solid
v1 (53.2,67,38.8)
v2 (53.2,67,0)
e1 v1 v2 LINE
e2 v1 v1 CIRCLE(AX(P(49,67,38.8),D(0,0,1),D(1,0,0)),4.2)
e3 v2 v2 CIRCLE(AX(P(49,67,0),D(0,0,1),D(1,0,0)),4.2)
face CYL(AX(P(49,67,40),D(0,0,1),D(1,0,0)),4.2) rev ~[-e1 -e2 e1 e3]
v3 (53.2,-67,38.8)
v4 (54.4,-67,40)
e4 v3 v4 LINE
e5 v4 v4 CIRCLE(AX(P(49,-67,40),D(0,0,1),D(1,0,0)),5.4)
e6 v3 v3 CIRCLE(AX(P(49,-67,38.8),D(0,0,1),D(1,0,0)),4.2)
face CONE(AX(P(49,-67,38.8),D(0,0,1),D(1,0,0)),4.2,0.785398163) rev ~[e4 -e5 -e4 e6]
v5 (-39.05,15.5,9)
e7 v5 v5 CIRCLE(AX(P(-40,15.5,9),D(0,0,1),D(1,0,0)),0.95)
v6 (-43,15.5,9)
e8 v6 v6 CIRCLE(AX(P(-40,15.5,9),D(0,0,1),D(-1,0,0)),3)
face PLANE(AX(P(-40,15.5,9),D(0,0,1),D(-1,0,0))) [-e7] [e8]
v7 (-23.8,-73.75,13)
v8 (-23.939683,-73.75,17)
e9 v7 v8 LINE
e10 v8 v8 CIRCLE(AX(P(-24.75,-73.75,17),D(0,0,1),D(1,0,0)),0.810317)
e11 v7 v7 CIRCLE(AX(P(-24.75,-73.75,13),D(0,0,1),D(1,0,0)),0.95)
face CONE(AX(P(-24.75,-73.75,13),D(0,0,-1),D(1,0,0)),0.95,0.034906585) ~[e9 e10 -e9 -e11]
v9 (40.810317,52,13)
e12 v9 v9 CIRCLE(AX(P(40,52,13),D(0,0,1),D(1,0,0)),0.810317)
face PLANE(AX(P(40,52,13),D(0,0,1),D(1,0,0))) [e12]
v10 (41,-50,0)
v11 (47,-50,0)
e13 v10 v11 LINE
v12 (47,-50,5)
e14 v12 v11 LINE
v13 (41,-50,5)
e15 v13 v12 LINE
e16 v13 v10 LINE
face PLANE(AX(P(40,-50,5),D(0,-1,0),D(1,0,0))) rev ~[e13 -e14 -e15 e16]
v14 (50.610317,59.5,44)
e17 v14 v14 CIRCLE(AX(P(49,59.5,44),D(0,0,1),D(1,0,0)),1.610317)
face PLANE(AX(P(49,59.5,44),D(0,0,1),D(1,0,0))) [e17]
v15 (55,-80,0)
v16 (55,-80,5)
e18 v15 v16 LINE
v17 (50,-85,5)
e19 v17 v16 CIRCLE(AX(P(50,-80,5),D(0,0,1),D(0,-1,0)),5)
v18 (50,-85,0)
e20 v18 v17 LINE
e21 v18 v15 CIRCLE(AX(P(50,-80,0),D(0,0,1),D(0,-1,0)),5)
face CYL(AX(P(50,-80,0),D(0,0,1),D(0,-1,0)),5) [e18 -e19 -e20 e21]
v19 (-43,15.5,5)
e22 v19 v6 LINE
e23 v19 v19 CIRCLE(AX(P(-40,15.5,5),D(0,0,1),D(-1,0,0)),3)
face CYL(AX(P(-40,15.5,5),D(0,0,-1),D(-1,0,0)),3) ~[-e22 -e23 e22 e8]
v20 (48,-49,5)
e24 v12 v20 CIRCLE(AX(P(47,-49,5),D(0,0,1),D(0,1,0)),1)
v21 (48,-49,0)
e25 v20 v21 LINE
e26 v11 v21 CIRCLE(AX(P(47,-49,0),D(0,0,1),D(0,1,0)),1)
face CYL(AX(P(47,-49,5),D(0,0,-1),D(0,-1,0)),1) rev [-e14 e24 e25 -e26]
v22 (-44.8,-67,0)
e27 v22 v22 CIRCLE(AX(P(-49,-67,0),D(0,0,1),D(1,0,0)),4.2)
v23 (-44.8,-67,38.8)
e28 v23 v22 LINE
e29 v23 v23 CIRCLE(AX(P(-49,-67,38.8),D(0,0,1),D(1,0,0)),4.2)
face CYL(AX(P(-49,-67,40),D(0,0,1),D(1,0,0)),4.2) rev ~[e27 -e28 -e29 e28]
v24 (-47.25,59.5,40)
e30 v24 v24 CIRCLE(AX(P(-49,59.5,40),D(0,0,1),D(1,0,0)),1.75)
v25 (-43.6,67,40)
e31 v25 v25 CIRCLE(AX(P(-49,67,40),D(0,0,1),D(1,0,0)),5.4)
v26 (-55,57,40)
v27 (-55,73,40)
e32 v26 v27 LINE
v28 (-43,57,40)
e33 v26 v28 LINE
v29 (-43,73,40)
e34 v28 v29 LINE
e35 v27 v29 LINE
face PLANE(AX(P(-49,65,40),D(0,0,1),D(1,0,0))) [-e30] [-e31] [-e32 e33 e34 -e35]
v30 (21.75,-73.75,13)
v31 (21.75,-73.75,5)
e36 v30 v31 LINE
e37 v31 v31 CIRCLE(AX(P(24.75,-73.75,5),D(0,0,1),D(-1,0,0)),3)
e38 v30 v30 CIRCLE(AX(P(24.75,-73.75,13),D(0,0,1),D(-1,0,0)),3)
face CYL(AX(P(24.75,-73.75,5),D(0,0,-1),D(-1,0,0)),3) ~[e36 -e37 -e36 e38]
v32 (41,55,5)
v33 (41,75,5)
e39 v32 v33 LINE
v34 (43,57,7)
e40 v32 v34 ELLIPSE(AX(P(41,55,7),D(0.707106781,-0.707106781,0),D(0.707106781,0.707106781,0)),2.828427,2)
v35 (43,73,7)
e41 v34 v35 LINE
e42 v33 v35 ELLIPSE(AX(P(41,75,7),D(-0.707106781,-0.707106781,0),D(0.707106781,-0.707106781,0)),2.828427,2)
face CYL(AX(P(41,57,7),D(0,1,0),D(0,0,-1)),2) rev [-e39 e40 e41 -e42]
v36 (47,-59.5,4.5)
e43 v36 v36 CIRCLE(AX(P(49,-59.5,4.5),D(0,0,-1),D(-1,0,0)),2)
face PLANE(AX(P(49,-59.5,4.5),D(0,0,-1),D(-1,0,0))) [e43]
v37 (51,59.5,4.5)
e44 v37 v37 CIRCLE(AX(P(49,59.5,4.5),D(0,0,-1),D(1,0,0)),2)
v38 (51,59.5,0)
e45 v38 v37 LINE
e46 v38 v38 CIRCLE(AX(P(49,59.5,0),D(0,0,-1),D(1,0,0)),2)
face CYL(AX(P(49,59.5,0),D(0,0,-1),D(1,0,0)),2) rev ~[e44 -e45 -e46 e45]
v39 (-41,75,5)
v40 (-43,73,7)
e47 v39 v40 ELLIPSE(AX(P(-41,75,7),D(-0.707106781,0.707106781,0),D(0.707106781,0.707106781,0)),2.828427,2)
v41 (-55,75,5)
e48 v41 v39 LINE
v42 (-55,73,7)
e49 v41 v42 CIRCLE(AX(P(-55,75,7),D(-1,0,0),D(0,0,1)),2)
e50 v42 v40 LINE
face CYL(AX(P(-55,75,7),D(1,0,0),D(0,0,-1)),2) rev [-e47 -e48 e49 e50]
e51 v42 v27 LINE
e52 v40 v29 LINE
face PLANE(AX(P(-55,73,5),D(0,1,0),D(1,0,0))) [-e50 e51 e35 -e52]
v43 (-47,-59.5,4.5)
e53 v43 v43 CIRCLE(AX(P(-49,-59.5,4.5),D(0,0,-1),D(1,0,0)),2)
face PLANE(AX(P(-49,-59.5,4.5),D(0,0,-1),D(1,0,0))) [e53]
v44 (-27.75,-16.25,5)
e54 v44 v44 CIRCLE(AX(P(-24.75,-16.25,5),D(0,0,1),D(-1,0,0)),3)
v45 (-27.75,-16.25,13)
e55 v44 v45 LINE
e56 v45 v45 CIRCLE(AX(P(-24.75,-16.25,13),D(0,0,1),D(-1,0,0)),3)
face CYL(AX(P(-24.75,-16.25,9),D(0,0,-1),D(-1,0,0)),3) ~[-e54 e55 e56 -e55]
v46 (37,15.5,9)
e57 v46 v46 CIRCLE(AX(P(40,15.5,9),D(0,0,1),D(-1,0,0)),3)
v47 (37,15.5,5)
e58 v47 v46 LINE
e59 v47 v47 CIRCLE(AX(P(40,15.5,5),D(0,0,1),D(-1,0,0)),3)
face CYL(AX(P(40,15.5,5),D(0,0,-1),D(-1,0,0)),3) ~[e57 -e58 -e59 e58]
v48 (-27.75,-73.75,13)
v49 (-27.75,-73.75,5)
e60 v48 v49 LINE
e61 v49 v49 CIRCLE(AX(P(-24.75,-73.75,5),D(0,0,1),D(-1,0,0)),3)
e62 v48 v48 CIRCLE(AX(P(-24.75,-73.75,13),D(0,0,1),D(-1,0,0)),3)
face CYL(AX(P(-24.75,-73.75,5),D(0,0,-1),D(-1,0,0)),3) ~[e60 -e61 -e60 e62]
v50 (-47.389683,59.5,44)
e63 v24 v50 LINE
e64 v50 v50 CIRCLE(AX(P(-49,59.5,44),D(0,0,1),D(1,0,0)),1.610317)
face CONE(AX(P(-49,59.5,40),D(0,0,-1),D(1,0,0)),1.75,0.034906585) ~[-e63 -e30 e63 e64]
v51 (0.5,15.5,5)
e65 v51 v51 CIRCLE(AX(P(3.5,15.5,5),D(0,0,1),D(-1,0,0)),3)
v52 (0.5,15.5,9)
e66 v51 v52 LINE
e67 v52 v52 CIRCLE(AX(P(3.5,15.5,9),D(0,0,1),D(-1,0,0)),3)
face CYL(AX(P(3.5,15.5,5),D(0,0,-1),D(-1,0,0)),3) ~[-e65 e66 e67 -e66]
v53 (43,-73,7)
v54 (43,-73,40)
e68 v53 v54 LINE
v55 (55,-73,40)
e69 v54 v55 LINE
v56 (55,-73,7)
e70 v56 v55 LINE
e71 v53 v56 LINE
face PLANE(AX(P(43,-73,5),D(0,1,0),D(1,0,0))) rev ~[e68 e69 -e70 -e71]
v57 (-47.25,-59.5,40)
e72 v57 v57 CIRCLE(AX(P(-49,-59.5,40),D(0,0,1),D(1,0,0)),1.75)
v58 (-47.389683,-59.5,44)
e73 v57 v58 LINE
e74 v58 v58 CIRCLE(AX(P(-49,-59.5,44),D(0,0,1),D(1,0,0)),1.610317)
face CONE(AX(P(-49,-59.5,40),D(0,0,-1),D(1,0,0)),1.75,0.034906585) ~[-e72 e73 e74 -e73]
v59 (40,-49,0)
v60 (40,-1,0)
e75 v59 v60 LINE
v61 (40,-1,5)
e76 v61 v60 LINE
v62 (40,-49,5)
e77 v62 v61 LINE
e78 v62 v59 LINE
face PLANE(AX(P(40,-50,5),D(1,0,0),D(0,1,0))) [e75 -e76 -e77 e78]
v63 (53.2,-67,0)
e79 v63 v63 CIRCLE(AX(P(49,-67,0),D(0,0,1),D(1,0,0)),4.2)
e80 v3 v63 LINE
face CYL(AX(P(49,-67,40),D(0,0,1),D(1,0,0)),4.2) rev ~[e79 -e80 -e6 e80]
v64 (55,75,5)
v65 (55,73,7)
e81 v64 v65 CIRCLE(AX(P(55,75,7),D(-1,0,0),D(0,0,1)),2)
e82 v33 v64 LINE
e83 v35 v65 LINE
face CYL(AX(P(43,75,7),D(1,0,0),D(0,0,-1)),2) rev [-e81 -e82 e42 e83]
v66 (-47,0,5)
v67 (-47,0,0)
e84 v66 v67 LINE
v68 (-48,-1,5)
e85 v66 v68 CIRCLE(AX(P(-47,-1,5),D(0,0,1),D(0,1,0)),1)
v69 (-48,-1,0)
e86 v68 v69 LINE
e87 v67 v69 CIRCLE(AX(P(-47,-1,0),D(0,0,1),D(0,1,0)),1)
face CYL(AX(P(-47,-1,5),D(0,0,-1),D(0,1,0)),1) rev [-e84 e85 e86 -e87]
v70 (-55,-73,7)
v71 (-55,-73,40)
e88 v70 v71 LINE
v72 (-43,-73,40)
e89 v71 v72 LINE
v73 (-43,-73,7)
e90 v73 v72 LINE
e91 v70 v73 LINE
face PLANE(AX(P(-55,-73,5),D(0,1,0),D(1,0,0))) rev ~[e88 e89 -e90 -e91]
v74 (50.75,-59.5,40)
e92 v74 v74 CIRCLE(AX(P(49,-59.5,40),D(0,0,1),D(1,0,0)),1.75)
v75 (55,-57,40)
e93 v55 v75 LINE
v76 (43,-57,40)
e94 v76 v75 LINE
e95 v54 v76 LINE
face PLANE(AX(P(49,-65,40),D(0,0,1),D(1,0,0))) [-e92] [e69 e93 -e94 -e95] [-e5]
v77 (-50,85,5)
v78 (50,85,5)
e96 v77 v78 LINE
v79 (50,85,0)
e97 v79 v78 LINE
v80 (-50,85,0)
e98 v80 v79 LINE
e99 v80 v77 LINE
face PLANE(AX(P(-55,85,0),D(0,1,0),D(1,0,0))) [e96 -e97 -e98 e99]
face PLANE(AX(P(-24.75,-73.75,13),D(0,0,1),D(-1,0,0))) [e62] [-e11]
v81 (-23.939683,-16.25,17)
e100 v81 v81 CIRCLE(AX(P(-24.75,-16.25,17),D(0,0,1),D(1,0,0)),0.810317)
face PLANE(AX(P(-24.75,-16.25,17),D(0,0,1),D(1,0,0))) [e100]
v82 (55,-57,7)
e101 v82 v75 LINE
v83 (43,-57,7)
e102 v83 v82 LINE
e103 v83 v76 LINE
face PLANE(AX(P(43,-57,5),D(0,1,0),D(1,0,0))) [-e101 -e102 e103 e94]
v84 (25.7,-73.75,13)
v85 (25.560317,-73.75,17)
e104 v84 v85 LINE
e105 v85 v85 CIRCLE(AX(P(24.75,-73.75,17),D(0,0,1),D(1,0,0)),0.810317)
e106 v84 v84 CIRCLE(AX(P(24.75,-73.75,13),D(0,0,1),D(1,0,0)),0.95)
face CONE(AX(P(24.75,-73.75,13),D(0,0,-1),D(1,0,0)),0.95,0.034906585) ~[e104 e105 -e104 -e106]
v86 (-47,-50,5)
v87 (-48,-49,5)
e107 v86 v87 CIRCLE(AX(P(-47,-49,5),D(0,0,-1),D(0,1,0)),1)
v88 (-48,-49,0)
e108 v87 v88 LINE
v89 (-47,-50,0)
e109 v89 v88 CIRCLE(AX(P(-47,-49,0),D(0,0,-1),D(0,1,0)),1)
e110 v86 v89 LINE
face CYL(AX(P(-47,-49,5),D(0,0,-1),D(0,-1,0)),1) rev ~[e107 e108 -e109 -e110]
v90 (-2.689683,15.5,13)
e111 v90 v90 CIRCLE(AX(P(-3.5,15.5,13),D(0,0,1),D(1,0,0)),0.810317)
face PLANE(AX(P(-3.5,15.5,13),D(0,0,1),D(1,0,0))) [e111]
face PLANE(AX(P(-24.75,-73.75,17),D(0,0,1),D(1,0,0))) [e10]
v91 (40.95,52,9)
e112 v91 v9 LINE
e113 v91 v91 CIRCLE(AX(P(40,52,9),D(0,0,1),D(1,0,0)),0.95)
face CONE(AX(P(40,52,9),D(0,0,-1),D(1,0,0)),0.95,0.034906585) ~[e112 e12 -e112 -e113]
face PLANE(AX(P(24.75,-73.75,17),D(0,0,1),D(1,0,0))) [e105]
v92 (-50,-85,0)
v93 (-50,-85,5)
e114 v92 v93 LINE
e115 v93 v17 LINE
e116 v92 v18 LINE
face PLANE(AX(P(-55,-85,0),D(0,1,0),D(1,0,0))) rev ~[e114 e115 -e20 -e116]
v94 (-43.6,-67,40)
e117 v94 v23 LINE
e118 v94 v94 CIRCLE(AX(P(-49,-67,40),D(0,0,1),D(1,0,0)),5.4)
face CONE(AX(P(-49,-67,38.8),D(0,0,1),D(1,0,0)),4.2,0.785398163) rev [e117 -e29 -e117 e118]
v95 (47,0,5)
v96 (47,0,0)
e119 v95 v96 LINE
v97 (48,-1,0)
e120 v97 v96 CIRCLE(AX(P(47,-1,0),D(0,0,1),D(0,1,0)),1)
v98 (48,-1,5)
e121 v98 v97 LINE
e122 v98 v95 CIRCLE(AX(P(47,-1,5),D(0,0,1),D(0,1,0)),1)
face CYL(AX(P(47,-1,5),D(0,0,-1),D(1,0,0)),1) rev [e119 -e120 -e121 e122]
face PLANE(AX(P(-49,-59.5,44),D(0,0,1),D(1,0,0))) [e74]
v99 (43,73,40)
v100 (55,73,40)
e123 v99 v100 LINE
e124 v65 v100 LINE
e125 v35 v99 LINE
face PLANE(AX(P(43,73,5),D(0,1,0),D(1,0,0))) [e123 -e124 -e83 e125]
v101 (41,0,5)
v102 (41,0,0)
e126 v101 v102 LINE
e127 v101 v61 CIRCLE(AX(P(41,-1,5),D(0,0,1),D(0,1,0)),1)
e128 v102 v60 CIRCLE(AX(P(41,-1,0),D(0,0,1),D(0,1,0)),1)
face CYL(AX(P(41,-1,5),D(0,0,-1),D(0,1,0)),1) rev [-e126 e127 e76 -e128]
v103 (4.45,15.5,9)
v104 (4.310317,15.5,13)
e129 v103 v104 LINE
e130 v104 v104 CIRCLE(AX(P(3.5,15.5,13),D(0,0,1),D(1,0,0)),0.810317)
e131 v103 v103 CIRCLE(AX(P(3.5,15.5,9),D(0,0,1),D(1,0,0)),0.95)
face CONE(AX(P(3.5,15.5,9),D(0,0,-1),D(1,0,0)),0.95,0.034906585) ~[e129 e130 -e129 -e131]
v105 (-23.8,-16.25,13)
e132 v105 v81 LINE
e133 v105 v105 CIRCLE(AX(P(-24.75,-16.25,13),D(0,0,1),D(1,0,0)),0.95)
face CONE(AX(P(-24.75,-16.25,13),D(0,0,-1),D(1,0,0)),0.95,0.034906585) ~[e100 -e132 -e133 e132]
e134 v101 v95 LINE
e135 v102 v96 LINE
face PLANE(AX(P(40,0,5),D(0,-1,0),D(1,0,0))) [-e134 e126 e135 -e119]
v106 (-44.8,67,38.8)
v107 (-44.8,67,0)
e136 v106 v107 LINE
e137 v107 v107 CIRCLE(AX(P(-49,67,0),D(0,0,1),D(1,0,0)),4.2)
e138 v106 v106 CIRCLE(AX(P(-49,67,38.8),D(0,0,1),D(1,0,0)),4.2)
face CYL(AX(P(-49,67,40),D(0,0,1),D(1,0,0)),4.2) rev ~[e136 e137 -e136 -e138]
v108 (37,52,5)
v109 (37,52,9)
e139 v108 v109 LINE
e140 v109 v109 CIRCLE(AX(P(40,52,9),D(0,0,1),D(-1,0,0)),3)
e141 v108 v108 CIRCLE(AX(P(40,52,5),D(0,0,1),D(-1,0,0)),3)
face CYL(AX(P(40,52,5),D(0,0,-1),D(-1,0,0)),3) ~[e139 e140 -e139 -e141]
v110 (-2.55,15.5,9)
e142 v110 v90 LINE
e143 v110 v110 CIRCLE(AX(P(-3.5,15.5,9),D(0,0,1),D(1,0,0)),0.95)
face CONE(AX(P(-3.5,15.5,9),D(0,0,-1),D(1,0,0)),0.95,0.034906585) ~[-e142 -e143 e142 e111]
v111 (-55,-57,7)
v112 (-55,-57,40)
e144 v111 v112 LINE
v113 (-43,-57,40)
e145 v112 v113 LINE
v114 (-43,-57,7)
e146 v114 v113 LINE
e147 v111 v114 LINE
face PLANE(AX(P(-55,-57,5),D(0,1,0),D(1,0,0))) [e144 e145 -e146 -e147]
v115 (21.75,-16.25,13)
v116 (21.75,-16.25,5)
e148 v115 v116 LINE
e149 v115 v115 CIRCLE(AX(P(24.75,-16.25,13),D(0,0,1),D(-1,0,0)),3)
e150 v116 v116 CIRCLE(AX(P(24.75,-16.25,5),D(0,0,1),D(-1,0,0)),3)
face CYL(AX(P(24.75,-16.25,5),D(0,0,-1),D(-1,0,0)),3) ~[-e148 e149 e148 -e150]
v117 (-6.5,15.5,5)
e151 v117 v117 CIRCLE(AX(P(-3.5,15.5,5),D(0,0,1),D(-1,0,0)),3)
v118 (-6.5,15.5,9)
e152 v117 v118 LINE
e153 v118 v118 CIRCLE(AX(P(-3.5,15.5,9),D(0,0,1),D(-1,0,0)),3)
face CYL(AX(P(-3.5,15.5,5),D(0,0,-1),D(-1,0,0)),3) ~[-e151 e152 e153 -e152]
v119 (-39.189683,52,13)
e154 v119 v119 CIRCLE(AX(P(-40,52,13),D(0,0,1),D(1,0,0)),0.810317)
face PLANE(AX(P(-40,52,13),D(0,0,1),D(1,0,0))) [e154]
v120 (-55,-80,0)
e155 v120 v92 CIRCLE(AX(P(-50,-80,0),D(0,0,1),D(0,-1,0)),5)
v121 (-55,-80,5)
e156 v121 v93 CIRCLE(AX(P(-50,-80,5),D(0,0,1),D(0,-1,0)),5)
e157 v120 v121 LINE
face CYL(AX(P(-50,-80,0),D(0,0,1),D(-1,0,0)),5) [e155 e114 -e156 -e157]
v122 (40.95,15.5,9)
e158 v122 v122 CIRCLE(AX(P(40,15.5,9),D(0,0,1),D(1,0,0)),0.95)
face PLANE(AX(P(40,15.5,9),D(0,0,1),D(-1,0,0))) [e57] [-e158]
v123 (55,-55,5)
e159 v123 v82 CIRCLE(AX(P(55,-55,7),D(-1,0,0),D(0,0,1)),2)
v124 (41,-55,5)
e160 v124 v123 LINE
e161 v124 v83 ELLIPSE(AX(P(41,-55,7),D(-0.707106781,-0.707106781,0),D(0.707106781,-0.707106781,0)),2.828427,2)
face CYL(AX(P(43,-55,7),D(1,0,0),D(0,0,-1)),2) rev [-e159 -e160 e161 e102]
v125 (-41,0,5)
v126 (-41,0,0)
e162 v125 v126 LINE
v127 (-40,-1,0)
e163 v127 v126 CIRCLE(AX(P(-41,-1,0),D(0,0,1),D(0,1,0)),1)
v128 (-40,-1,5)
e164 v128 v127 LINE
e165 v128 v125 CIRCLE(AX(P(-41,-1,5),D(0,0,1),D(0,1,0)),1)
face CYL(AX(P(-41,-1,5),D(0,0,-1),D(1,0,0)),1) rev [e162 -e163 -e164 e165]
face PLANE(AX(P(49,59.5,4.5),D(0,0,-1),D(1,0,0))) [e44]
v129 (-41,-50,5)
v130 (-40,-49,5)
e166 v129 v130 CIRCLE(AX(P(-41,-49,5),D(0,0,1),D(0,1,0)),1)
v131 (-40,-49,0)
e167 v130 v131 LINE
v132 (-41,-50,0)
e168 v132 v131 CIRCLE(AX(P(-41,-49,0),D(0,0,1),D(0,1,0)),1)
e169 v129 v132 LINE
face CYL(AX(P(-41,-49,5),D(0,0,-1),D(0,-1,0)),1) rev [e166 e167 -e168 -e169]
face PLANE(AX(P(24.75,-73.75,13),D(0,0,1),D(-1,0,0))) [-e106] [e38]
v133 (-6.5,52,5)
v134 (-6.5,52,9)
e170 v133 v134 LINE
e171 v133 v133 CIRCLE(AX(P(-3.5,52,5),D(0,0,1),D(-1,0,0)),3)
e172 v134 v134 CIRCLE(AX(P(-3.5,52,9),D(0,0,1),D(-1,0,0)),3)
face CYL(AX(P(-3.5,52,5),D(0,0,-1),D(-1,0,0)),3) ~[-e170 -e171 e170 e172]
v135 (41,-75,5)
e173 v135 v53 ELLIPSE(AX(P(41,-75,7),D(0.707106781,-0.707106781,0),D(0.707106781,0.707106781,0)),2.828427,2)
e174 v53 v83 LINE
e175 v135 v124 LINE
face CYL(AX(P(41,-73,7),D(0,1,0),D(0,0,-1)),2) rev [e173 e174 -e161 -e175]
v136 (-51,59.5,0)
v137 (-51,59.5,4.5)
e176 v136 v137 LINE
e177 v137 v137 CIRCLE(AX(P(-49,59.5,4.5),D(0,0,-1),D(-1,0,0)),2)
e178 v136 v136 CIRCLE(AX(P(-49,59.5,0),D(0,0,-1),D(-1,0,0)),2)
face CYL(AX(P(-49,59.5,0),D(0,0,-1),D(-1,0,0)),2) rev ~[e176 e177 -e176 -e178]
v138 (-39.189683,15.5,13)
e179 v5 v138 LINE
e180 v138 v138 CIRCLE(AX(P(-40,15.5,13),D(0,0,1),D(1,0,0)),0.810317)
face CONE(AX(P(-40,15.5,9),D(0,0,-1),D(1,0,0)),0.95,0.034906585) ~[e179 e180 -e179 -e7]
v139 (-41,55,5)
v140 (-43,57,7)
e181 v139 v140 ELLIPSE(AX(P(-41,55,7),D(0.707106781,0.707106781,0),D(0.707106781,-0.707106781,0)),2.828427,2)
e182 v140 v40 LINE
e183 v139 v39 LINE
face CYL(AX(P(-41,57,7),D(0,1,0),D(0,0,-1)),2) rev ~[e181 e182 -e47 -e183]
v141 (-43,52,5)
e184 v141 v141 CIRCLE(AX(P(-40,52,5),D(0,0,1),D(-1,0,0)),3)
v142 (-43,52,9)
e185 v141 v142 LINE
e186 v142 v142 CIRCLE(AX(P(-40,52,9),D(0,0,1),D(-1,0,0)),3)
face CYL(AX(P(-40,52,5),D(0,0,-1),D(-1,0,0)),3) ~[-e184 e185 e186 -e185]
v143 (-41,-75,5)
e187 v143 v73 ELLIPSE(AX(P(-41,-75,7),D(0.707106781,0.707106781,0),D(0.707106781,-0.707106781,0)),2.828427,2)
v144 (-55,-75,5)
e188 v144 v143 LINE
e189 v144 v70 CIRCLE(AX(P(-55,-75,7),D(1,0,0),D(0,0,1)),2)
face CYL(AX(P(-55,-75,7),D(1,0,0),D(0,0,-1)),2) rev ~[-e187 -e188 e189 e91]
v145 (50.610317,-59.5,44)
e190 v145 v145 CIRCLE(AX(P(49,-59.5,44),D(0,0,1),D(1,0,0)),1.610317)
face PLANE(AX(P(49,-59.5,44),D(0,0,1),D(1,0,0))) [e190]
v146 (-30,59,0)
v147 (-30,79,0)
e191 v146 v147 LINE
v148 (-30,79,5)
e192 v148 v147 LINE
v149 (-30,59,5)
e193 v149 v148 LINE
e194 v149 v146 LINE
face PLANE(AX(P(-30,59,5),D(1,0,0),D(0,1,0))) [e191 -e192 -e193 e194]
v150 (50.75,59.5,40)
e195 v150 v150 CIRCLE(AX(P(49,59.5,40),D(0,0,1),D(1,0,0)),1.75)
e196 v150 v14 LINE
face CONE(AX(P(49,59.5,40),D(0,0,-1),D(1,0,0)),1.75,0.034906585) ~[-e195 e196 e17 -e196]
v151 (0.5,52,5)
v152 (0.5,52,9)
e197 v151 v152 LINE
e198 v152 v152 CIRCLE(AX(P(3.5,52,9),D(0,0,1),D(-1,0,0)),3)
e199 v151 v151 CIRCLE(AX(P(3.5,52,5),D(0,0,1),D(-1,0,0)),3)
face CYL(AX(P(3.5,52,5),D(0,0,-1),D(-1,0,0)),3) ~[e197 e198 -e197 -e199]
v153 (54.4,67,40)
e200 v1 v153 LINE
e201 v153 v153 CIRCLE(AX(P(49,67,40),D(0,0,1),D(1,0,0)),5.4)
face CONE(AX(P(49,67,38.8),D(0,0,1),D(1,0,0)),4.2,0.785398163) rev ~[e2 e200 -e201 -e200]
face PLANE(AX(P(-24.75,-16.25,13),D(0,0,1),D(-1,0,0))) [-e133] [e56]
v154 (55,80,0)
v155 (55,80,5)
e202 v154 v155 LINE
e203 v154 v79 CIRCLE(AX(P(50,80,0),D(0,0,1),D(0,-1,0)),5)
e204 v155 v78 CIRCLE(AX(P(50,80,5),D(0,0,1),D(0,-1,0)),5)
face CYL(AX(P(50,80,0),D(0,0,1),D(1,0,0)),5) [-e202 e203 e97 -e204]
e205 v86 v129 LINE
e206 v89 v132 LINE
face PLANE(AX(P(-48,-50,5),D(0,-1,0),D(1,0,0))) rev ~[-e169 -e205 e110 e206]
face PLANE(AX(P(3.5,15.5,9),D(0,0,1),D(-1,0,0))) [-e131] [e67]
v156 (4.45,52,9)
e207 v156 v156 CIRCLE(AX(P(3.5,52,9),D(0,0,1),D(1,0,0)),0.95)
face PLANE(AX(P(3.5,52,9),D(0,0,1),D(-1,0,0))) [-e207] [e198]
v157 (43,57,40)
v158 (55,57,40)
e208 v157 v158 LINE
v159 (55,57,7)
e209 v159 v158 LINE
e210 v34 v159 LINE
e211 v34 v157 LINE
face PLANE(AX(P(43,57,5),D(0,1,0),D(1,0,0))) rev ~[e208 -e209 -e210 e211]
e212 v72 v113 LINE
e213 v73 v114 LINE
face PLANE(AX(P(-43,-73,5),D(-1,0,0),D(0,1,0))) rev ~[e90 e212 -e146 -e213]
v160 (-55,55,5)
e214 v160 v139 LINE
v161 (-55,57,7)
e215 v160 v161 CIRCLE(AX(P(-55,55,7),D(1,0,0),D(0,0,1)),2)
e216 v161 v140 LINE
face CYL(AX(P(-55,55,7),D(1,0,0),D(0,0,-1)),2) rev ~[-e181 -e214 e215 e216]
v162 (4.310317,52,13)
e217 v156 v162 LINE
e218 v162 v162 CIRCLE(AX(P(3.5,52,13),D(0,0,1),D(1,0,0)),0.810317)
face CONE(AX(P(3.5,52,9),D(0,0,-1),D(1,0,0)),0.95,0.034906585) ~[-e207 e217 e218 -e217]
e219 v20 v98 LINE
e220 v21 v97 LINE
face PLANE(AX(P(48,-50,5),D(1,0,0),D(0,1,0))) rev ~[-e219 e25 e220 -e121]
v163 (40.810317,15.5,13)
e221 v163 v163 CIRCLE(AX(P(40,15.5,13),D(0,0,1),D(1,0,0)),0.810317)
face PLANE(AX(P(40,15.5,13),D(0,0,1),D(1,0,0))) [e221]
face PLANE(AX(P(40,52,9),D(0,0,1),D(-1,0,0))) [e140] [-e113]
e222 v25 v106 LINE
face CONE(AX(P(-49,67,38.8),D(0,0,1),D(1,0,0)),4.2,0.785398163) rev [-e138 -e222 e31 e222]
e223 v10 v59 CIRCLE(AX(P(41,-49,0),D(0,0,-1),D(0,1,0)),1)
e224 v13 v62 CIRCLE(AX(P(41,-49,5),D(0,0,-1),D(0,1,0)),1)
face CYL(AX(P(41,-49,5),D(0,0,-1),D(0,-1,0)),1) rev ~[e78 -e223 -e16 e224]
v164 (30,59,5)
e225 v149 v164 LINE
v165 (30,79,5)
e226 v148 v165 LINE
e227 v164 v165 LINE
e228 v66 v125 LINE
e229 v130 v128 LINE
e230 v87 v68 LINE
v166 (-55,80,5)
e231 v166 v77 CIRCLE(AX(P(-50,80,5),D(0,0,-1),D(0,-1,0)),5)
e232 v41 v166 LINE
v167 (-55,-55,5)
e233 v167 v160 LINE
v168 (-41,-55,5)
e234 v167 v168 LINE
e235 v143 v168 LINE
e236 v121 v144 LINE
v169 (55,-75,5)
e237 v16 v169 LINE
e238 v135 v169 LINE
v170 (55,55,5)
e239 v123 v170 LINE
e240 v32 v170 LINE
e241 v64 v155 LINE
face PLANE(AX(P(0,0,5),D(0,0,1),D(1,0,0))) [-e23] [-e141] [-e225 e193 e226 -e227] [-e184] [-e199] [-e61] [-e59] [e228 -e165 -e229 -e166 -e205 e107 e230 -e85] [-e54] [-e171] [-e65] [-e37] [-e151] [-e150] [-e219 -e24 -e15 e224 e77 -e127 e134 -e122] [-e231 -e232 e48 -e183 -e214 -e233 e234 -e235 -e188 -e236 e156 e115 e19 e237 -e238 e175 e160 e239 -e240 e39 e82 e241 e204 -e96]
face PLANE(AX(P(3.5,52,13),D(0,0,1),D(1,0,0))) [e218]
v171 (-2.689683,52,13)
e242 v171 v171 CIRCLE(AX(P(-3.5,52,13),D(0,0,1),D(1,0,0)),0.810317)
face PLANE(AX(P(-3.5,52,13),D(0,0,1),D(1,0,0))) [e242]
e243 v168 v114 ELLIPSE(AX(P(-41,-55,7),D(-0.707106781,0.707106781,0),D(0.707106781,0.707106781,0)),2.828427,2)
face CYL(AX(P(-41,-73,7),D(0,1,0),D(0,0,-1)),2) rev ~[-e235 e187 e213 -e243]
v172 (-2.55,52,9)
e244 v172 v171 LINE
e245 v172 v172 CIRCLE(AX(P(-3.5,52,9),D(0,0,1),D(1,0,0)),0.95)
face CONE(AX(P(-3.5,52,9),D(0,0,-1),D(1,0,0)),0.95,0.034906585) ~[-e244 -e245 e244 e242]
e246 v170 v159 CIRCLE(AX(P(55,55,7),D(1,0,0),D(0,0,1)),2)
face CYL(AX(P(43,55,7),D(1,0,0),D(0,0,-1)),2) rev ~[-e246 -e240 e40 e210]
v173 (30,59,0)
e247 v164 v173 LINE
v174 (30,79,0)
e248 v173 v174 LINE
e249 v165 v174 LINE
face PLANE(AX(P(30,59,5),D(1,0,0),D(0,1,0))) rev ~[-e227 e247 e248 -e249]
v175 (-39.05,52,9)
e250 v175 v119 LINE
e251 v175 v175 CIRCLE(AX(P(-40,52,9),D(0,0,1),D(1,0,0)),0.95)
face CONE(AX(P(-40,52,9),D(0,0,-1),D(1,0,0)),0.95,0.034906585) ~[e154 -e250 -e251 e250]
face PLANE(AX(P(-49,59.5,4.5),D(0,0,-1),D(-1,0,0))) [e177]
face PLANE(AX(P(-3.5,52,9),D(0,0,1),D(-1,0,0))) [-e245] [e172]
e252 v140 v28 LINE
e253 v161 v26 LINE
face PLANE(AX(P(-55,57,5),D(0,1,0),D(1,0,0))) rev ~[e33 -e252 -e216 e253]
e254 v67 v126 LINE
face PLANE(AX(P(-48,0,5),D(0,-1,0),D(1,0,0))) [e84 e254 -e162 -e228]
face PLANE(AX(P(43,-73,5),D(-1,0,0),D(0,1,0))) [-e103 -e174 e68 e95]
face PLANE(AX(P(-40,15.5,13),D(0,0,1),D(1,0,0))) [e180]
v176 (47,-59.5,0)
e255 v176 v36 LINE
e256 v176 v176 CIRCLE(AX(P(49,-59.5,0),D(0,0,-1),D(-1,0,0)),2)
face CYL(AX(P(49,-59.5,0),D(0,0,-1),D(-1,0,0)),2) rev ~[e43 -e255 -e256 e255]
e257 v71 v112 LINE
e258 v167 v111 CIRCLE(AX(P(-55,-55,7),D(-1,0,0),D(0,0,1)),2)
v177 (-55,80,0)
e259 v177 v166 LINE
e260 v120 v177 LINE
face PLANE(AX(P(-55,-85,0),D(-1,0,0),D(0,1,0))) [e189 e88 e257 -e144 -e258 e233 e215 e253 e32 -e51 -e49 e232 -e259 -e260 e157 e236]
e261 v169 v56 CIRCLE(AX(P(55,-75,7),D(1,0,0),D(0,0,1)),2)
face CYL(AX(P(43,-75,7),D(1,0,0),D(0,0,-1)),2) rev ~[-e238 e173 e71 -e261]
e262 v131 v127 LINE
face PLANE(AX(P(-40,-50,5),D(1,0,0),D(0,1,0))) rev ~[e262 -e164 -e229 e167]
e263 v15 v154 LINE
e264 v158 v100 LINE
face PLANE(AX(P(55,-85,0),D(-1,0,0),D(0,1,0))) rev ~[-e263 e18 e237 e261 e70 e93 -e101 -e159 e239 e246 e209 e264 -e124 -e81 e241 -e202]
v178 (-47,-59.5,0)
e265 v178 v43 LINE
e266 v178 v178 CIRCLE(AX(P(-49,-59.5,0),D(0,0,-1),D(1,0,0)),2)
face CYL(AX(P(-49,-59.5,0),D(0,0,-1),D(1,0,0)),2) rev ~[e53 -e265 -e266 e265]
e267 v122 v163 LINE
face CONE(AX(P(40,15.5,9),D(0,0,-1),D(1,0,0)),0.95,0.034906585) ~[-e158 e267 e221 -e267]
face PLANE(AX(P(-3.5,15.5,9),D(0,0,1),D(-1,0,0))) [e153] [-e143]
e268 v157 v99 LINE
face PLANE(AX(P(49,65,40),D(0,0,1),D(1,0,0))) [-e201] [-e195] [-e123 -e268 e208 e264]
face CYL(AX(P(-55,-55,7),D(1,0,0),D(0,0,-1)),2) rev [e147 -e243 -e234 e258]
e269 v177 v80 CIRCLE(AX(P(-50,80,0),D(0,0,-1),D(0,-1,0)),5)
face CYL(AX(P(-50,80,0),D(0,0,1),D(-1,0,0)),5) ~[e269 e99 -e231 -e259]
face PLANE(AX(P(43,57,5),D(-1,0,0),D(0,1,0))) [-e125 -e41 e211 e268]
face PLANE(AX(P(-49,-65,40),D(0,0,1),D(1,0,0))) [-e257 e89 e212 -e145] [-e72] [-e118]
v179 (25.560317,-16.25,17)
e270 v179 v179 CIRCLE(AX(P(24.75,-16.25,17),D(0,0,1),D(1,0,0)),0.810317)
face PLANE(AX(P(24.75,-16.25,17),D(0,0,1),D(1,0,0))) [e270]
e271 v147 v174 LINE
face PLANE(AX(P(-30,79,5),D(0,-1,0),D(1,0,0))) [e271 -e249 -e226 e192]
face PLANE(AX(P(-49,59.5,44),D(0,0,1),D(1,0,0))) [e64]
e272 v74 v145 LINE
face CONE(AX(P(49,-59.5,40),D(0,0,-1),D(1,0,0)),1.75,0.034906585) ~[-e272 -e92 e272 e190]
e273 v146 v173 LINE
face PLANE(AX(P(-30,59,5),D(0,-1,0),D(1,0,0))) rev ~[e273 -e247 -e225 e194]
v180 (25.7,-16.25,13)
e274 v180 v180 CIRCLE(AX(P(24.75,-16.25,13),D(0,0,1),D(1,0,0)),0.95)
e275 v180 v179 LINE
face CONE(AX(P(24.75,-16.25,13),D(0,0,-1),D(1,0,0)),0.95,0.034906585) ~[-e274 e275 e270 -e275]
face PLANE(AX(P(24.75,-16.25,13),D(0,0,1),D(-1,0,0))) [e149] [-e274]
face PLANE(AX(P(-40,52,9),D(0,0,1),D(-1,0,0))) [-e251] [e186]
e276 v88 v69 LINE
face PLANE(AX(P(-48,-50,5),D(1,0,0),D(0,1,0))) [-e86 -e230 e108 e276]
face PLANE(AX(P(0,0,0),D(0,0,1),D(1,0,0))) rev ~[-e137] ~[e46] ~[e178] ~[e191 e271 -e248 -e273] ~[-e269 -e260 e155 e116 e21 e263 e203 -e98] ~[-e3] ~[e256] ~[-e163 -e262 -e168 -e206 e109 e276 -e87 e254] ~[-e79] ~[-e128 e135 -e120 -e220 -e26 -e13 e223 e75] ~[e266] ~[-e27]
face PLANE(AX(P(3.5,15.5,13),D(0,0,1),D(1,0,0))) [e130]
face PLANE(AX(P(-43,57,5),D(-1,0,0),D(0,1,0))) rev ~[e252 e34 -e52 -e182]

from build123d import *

# Parameters (mm, degrees)
SKIZZE1_W                                 = 110
SKIZZE1_H                                 = 170
AUFSATZ_LINEAR_AUSTRAGEN1_DEPTH           = 5
VERRUNDUNG1_R                             = 5
SKIZZE7_W                                 = 12
SKIZZE7_H                                 = 16
AUFSATZ_LINEAR_AUSTRAGEN3_DEPTH           = 35
VERRUNDUNG2_R                             = 2
SKIZZE8_R                                 = 4.2
SCHNITT_LINEAR_AUSTRAGEN3_DEPTH           = 109.857705285
LINEARES_MUSTER1_COUNT                    = 2
LINEARES_MUSTER1_PITCH                    = 134
LINEARES_MUSTER1_COUNT_DIR2               = 2
LINEARES_MUSTER1_PITCH_DIR2               = 98
SKIZZE9_R                                 = 3
AUFSATZ_LINEAR_AUSTRAGEN4_DEPTH           = 4
SKIZZE10_R                                = 0.95
AUFSATZ_LINEAR_AUSTRAGEN5_DEPTH           = 4
AUFSATZ_LINEAR_AUSTRAGEN5_DRAFT           = 2
AUFSATZ_LINEAR_AUSTRAGEN5_PROFILE_2_DEPTH = 4
AUFSATZ_LINEAR_AUSTRAGEN5_PROFILE_2_DRAFT = 2
AUFSATZ_LINEAR_AUSTRAGEN5_PROFILE_3_DEPTH = 4
AUFSATZ_LINEAR_AUSTRAGEN5_PROFILE_3_DRAFT = 2
AUFSATZ_LINEAR_AUSTRAGEN5_PROFILE_4_DEPTH = 4
AUFSATZ_LINEAR_AUSTRAGEN5_PROFILE_4_DRAFT = 2
AUFSATZ_LINEAR_AUSTRAGEN5_PROFILE_5_DEPTH = 4
AUFSATZ_LINEAR_AUSTRAGEN5_PROFILE_5_DRAFT = 2
AUFSATZ_LINEAR_AUSTRAGEN5_PROFILE_6_DEPTH = 4
AUFSATZ_LINEAR_AUSTRAGEN5_PROFILE_6_DRAFT = 2
AUFSATZ_LINEAR_AUSTRAGEN5_PROFILE_7_DEPTH = 4
AUFSATZ_LINEAR_AUSTRAGEN5_PROFILE_7_DRAFT = 2
AUFSATZ_LINEAR_AUSTRAGEN5_PROFILE_8_DEPTH = 4
AUFSATZ_LINEAR_AUSTRAGEN5_PROFILE_8_DRAFT = 2
FASE1_SIZE                                = 1.2
SKIZZE11_W                                = 60
SKIZZE11_H                                = 20
SCHNITT_LINEAR_AUSTRAGEN4_DEPTH           = 108.121426428
SKIZZE12_R                                = 1.75
AUFSATZ_LINEAR_AUSTRAGEN6_DEPTH           = 4
AUFSATZ_LINEAR_AUSTRAGEN6_DRAFT           = 2
AUFSATZ_LINEAR_AUSTRAGEN6_PROFILE_2_DEPTH = 4
AUFSATZ_LINEAR_AUSTRAGEN6_PROFILE_2_DRAFT = 2
AUFSATZ_LINEAR_AUSTRAGEN6_PROFILE_3_DEPTH = 4
AUFSATZ_LINEAR_AUSTRAGEN6_PROFILE_3_DRAFT = 2
AUFSATZ_LINEAR_AUSTRAGEN6_PROFILE_4_DEPTH = 4
AUFSATZ_LINEAR_AUSTRAGEN6_PROFILE_4_DRAFT = 2
SKIZZE13_R                                = 2
SCHNITT_LINEAR_AUSTRAGEN5_DEPTH           = 4.5
SKIZZE15_W                                = 8
SKIZZE15_H                                = 50
SCHNITT_LINEAR_AUSTRAGEN6_DEPTH           = 109.494239478
VERRUNDUNG3_R                             = 1
SKIZZE16_R                                = 3
AUFSATZ_LINEAR_AUSTRAGEN7_DEPTH           = 4
SKIZZE17_R                                = 0.95
AUFSATZ_LINEAR_AUSTRAGEN8_DEPTH           = 4
AUFSATZ_LINEAR_AUSTRAGEN8_DRAFT           = 2
AUFSATZ_LINEAR_AUSTRAGEN8_PROFILE_2_DEPTH = 4
AUFSATZ_LINEAR_AUSTRAGEN8_PROFILE_2_DRAFT = 2
AUFSATZ_LINEAR_AUSTRAGEN8_PROFILE_3_DEPTH = 4
AUFSATZ_LINEAR_AUSTRAGEN8_PROFILE_3_DRAFT = 2
AUFSATZ_LINEAR_AUSTRAGEN8_PROFILE_4_DEPTH = 4
AUFSATZ_LINEAR_AUSTRAGEN8_PROFILE_4_DRAFT = 2


with BuildPart() as part:
    # Skizze1 → Aufsatz-Linear austragen1 (new body)
    with BuildSketch(Plane.XY):
        Rectangle(SKIZZE1_W, SKIZZE1_H)
    extrude(amount=AUFSATZ_LINEAR_AUSTRAGEN1_DEPTH)

    # Verrundung1
    verrundung1_edges = [part.edges().sort_by_distance(p)[0] for p in [
        (55, -85, 2.5),
        (-55, -85, 2.5),
        (-55, 85, 2.5),
        (55, 85, 2.5),
    ]]
    fillet(verrundung1_edges, radius=VERRUNDUNG1_R)

    # Skizze7 → Aufsatz-Linear austragen3 (add)
    with BuildSketch(Plane.XY.offset(5)):
        with Locations((-49, 65)):
            Rectangle(SKIZZE7_W, SKIZZE7_H)
        with Locations((49, 65)):
            Rectangle(SKIZZE7_W, SKIZZE7_H)
        with Locations((49, -65)):
            Rectangle(SKIZZE7_W, SKIZZE7_H)
        with Locations((-49, -65)):
            Rectangle(SKIZZE7_W, SKIZZE7_H)
    extrude(amount=AUFSATZ_LINEAR_AUSTRAGEN3_DEPTH)

    # Verrundung2
    verrundung2_edges = [part.edges().sort_by_distance(p)[0] for p in [
        (-49, 57, 5),
        (-43, 65, 5),
        (-49, 73, 5),
        (49, 73, 5),
        (43, 65, 5),
        (49, 57, 5),
        (49, -57, 5),
        (43, -65, 5),
        (49, -73, 5),
        (-49, -73, 5),
        (-43, -65, 5),
        (-49, -57, 5),
    ]]
    fillet(verrundung2_edges, radius=VERRUNDUNG2_R)

    # Skizze8 → Schnitt-Linear austragen3 (cut, through all)
    with BuildSketch(Plane.XY.offset(40)):
        with Locations((-49, 67)):
            Circle(SKIZZE8_R)
    schnitt_linear_austragen3 = extrude(amount=-SCHNITT_LINEAR_AUSTRAGEN3_DEPTH, mode=Mode.SUBTRACT)

    # Lineares Muster1: Schnitt-Linear austragen3 2 × 2
    with Locations(*[(j * LINEARES_MUSTER1_PITCH_DIR2, -i * LINEARES_MUSTER1_PITCH, 0) for i in range(LINEARES_MUSTER1_COUNT) for j in range(LINEARES_MUSTER1_COUNT_DIR2) if (i, j) != (0, 0)]):
        add(schnitt_linear_austragen3, mode=Mode.SUBTRACT)

    # Skizze9 → Aufsatz-Linear austragen4 (add)
    with BuildSketch(Plane.XY.offset(5)):
        with Locations(Location((24.75, -73.75, 0), (0, 0, 180))):
            Circle(SKIZZE9_R)
        with Locations(Location((24.75, -16.25, 0), (0, 0, 180))):
            Circle(SKIZZE9_R)
        with Locations(Location((-24.75, -16.25, 0), (0, 0, 180))):
            Circle(SKIZZE9_R)
        with Locations(Location((-24.75, -73.75, 0), (0, 0, 180))):
            Circle(SKIZZE9_R)
        with Locations(Location((-3.5, 52, 0), (0, 0, 180))):
            Circle(SKIZZE9_R)
        with Locations(Location((-40, 52, 0), (0, 0, 180))):
            Circle(SKIZZE9_R)
        with Locations(Location((-40, 15.5, 0), (0, 0, 180))):
            Circle(SKIZZE9_R)
        with Locations(Location((-3.5, 15.5, 0), (0, 0, 180))):
            Circle(SKIZZE9_R)
        with Locations(Location((3.5, 15.5, 0), (0, 0, 180))):
            Circle(SKIZZE9_R)
        with Locations(Location((40, 15.5, 0), (0, 0, 180))):
            Circle(SKIZZE9_R)
        with Locations(Location((40, 52, 0), (0, 0, 180))):
            Circle(SKIZZE9_R)
        with Locations(Location((3.5, 52, 0), (0, 0, 180))):
            Circle(SKIZZE9_R)
    extrude(amount=AUFSATZ_LINEAR_AUSTRAGEN4_DEPTH)


with BuildPart() as aufsatz_linear_austragen5_tool:
    # Skizze10 → Aufsatz-Linear austragen5 (with draft: the straight prism first)
    with BuildSketch(Plane.XY.offset(9)):
        with Locations((3.5, 15.5)):
            Circle(SKIZZE10_R)
    extrude(amount=AUFSATZ_LINEAR_AUSTRAGEN5_DEPTH)
    # Aufsatz-Linear austragen5: the draft: its side faces are tilted about the plane it starts from
    aufsatz_linear_austragen5_sides = [aufsatz_linear_austragen5_tool.faces().sort_by_distance(p)[0] for p in [
        (2.55, 15.5, 11),
    ]]
    draft(aufsatz_linear_austragen5_sides, Plane.XY.offset(9), AUFSATZ_LINEAR_AUSTRAGEN5_DRAFT)


with BuildPart() as part_1:
    add(part.part)

    # Aufsatz-Linear austragen5: add aufsatz_linear_austragen5_tool
    add(aufsatz_linear_austragen5_tool.part)


with BuildPart() as aufsatz_linear_austragen5_profile_2_tool:
    # Skizze10 → Aufsatz-Linear austragen5 profile 2 (with draft: the straight prism first)
    with BuildSketch(Plane.XY.offset(9)):
        with Locations((40, 15.5)):
            Circle(SKIZZE10_R)
    extrude(amount=AUFSATZ_LINEAR_AUSTRAGEN5_PROFILE_2_DEPTH)
    # Aufsatz-Linear austragen5 profile 2: the draft: its side faces are tilted about the plane it starts from
    aufsatz_linear_austragen5_profile_2_sides = [aufsatz_linear_austragen5_profile_2_tool.faces().sort_by_distance(p)[0] for p in [
        (39.05, 15.5, 11),
    ]]
    draft(aufsatz_linear_austragen5_profile_2_sides, Plane.XY.offset(9), AUFSATZ_LINEAR_AUSTRAGEN5_PROFILE_2_DRAFT)


with BuildPart() as part_2:
    add(part_1.part)

    # Aufsatz-Linear austragen5 profile 2: add aufsatz_linear_austragen5_profile_2_tool
    add(aufsatz_linear_austragen5_profile_2_tool.part)


with BuildPart() as aufsatz_linear_austragen5_profile_3_tool:
    # Skizze10 → Aufsatz-Linear austragen5 profile 3 (with draft: the straight prism first)
    with BuildSketch(Plane.XY.offset(9)):
        with Locations((40, 52)):
            Circle(SKIZZE10_R)
    extrude(amount=AUFSATZ_LINEAR_AUSTRAGEN5_PROFILE_3_DEPTH)
    # Aufsatz-Linear austragen5 profile 3: the draft: its side faces are tilted about the plane it starts from
    aufsatz_linear_austragen5_profile_3_sides = [aufsatz_linear_austragen5_profile_3_tool.faces().sort_by_distance(p)[0] for p in [
        (39.05, 52, 11),
    ]]
    draft(aufsatz_linear_austragen5_profile_3_sides, Plane.XY.offset(9), AUFSATZ_LINEAR_AUSTRAGEN5_PROFILE_3_DRAFT)


with BuildPart() as part_3:
    add(part_2.part)

    # Aufsatz-Linear austragen5 profile 3: add aufsatz_linear_austragen5_profile_3_tool
    add(aufsatz_linear_austragen5_profile_3_tool.part)


with BuildPart() as aufsatz_linear_austragen5_profile_4_tool:
    # Skizze10 → Aufsatz-Linear austragen5 profile 4 (with draft: the straight prism first)
    with BuildSketch(Plane.XY.offset(9)):
        with Locations((3.5, 52)):
            Circle(SKIZZE10_R)
    extrude(amount=AUFSATZ_LINEAR_AUSTRAGEN5_PROFILE_4_DEPTH)
    # Aufsatz-Linear austragen5 profile 4: the draft: its side faces are tilted about the plane it starts from
    aufsatz_linear_austragen5_profile_4_sides = [aufsatz_linear_austragen5_profile_4_tool.faces().sort_by_distance(p)[0] for p in [
        (2.55, 52, 11),
    ]]
    draft(aufsatz_linear_austragen5_profile_4_sides, Plane.XY.offset(9), AUFSATZ_LINEAR_AUSTRAGEN5_PROFILE_4_DRAFT)


with BuildPart() as part_4:
    add(part_3.part)

    # Aufsatz-Linear austragen5 profile 4: add aufsatz_linear_austragen5_profile_4_tool
    add(aufsatz_linear_austragen5_profile_4_tool.part)


with BuildPart() as aufsatz_linear_austragen5_profile_5_tool:
    # Skizze10 → Aufsatz-Linear austragen5 profile 5 (with draft: the straight prism first)
    with BuildSketch(Plane.XY.offset(9)):
        with Locations((-3.5, 52)):
            Circle(SKIZZE10_R)
    extrude(amount=AUFSATZ_LINEAR_AUSTRAGEN5_PROFILE_5_DEPTH)
    # Aufsatz-Linear austragen5 profile 5: the draft: its side faces are tilted about the plane it starts from
    aufsatz_linear_austragen5_profile_5_sides = [aufsatz_linear_austragen5_profile_5_tool.faces().sort_by_distance(p)[0] for p in [
        (-4.45, 52, 11),
    ]]
    draft(aufsatz_linear_austragen5_profile_5_sides, Plane.XY.offset(9), AUFSATZ_LINEAR_AUSTRAGEN5_PROFILE_5_DRAFT)


with BuildPart() as part_5:
    add(part_4.part)

    # Aufsatz-Linear austragen5 profile 5: add aufsatz_linear_austragen5_profile_5_tool
    add(aufsatz_linear_austragen5_profile_5_tool.part)


with BuildPart() as aufsatz_linear_austragen5_profile_6_tool:
    # Skizze10 → Aufsatz-Linear austragen5 profile 6 (with draft: the straight prism first)
    with BuildSketch(Plane.XY.offset(9)):
        with Locations((-40, 52)):
            Circle(SKIZZE10_R)
    extrude(amount=AUFSATZ_LINEAR_AUSTRAGEN5_PROFILE_6_DEPTH)
    # Aufsatz-Linear austragen5 profile 6: the draft: its side faces are tilted about the plane it starts from
    aufsatz_linear_austragen5_profile_6_sides = [aufsatz_linear_austragen5_profile_6_tool.faces().sort_by_distance(p)[0] for p in [
        (-40.95, 52, 11),
    ]]
    draft(aufsatz_linear_austragen5_profile_6_sides, Plane.XY.offset(9), AUFSATZ_LINEAR_AUSTRAGEN5_PROFILE_6_DRAFT)


with BuildPart() as part_6:
    add(part_5.part)

    # Aufsatz-Linear austragen5 profile 6: add aufsatz_linear_austragen5_profile_6_tool
    add(aufsatz_linear_austragen5_profile_6_tool.part)


with BuildPart() as aufsatz_linear_austragen5_profile_7_tool:
    # Skizze10 → Aufsatz-Linear austragen5 profile 7 (with draft: the straight prism first)
    with BuildSketch(Plane.XY.offset(9)):
        with Locations((-40, 15.5)):
            Circle(SKIZZE10_R)
    extrude(amount=AUFSATZ_LINEAR_AUSTRAGEN5_PROFILE_7_DEPTH)
    # Aufsatz-Linear austragen5 profile 7: the draft: its side faces are tilted about the plane it starts from
    aufsatz_linear_austragen5_profile_7_sides = [aufsatz_linear_austragen5_profile_7_tool.faces().sort_by_distance(p)[0] for p in [
        (-40.95, 15.5, 11),
    ]]
    draft(aufsatz_linear_austragen5_profile_7_sides, Plane.XY.offset(9), AUFSATZ_LINEAR_AUSTRAGEN5_PROFILE_7_DRAFT)


with BuildPart() as part_7:
    add(part_6.part)

    # Aufsatz-Linear austragen5 profile 7: add aufsatz_linear_austragen5_profile_7_tool
    add(aufsatz_linear_austragen5_profile_7_tool.part)


with BuildPart() as aufsatz_linear_austragen5_profile_8_tool:
    # Skizze10 → Aufsatz-Linear austragen5 profile 8 (with draft: the straight prism first)
    with BuildSketch(Plane.XY.offset(9)):
        with Locations((-3.5, 15.5)):
            Circle(SKIZZE10_R)
    extrude(amount=AUFSATZ_LINEAR_AUSTRAGEN5_PROFILE_8_DEPTH)
    # Aufsatz-Linear austragen5 profile 8: the draft: its side faces are tilted about the plane it starts from
    aufsatz_linear_austragen5_profile_8_sides = [aufsatz_linear_austragen5_profile_8_tool.faces().sort_by_distance(p)[0] for p in [
        (-4.45, 15.5, 11),
    ]]
    draft(aufsatz_linear_austragen5_profile_8_sides, Plane.XY.offset(9), AUFSATZ_LINEAR_AUSTRAGEN5_PROFILE_8_DRAFT)


with BuildPart() as part_8:
    add(part_7.part)

    # Aufsatz-Linear austragen5 profile 8: add aufsatz_linear_austragen5_profile_8_tool
    add(aufsatz_linear_austragen5_profile_8_tool.part)

    # Fase1
    fase1_edges = [part_8.edges().sort_by_distance(p)[0] for p in [
        (-53.2, 67, 40),
        (44.8, 67, 40),
        (-53.2, -67, 40),
        (44.8, -67, 40),
    ]]
    chamfer(fase1_edges, length=FASE1_SIZE)

    # Skizze11 → Schnitt-Linear austragen4 (cut, through all)
    with BuildSketch(Plane.XY.offset(5)):
        with Locations((0, 69)):
            Rectangle(SKIZZE11_W, SKIZZE11_H)
    extrude(amount=-SCHNITT_LINEAR_AUSTRAGEN4_DEPTH, mode=Mode.SUBTRACT)


with BuildPart() as aufsatz_linear_austragen6_tool:
    # Skizze12 → Aufsatz-Linear austragen6 (with draft: the straight prism first)
    with BuildSketch(Plane.XY.offset(40)):
        with Locations((-49, 59.5)):
            Circle(SKIZZE12_R)
    extrude(amount=AUFSATZ_LINEAR_AUSTRAGEN6_DEPTH)
    # Aufsatz-Linear austragen6: the draft: its side faces are tilted about the plane it starts from
    aufsatz_linear_austragen6_sides = [aufsatz_linear_austragen6_tool.faces().sort_by_distance(p)[0] for p in [
        (-50.75, 59.5, 42),
    ]]
    draft(aufsatz_linear_austragen6_sides, Plane.XY.offset(40), AUFSATZ_LINEAR_AUSTRAGEN6_DRAFT)


with BuildPart() as part_9:
    add(part_8.part)

    # Aufsatz-Linear austragen6: add aufsatz_linear_austragen6_tool
    add(aufsatz_linear_austragen6_tool.part)


with BuildPart() as aufsatz_linear_austragen6_profile_2_tool:
    # Skizze12 → Aufsatz-Linear austragen6 profile 2 (with draft: the straight prism first)
    with BuildSketch(Plane.XY.offset(40)):
        with Locations((49, 59.5)):
            Circle(SKIZZE12_R)
    extrude(amount=AUFSATZ_LINEAR_AUSTRAGEN6_PROFILE_2_DEPTH)
    # Aufsatz-Linear austragen6 profile 2: the draft: its side faces are tilted about the plane it starts from
    aufsatz_linear_austragen6_profile_2_sides = [aufsatz_linear_austragen6_profile_2_tool.faces().sort_by_distance(p)[0] for p in [
        (47.25, 59.5, 42),
    ]]
    draft(aufsatz_linear_austragen6_profile_2_sides, Plane.XY.offset(40), AUFSATZ_LINEAR_AUSTRAGEN6_PROFILE_2_DRAFT)


with BuildPart() as part_10:
    add(part_9.part)

    # Aufsatz-Linear austragen6 profile 2: add aufsatz_linear_austragen6_profile_2_tool
    add(aufsatz_linear_austragen6_profile_2_tool.part)


with BuildPart() as aufsatz_linear_austragen6_profile_3_tool:
    # Skizze12 → Aufsatz-Linear austragen6 profile 3 (with draft: the straight prism first)
    with BuildSketch(Plane.XY.offset(40)):
        with Locations((-49, -59.5)):
            Circle(SKIZZE12_R)
    extrude(amount=AUFSATZ_LINEAR_AUSTRAGEN6_PROFILE_3_DEPTH)
    # Aufsatz-Linear austragen6 profile 3: the draft: its side faces are tilted about the plane it starts from
    aufsatz_linear_austragen6_profile_3_sides = [aufsatz_linear_austragen6_profile_3_tool.faces().sort_by_distance(p)[0] for p in [
        (-50.75, -59.5, 42),
    ]]
    draft(aufsatz_linear_austragen6_profile_3_sides, Plane.XY.offset(40), AUFSATZ_LINEAR_AUSTRAGEN6_PROFILE_3_DRAFT)


with BuildPart() as part_11:
    add(part_10.part)

    # Aufsatz-Linear austragen6 profile 3: add aufsatz_linear_austragen6_profile_3_tool
    add(aufsatz_linear_austragen6_profile_3_tool.part)


with BuildPart() as aufsatz_linear_austragen6_profile_4_tool:
    # Skizze12 → Aufsatz-Linear austragen6 profile 4 (with draft: the straight prism first)
    with BuildSketch(Plane.XY.offset(40)):
        with Locations((49, -59.5)):
            Circle(SKIZZE12_R)
    extrude(amount=AUFSATZ_LINEAR_AUSTRAGEN6_PROFILE_4_DEPTH)
    # Aufsatz-Linear austragen6 profile 4: the draft: its side faces are tilted about the plane it starts from
    aufsatz_linear_austragen6_profile_4_sides = [aufsatz_linear_austragen6_profile_4_tool.faces().sort_by_distance(p)[0] for p in [
        (47.25, -59.5, 42),
    ]]
    draft(aufsatz_linear_austragen6_profile_4_sides, Plane.XY.offset(40), AUFSATZ_LINEAR_AUSTRAGEN6_PROFILE_4_DRAFT)


with BuildPart() as part_12:
    add(part_11.part)

    # Aufsatz-Linear austragen6 profile 4: add aufsatz_linear_austragen6_profile_4_tool
    add(aufsatz_linear_austragen6_profile_4_tool.part)

    # Skizze13 → Schnitt-Linear austragen5 (cut)
    with BuildSketch(Plane(origin=(0, 0, 0), x_dir=(-1, 0, 0), z_dir=(0, 0, -1))):
        with Locations((49, 59.5)):
            Circle(SKIZZE13_R)
        with Locations(Location((-49, 59.5, 0), (0, 0, 180))):
            Circle(SKIZZE13_R)
        with Locations((-49, -59.5)):
            Circle(SKIZZE13_R)
        with Locations(Location((49, -59.5, 0), (0, 0, 180))):
            Circle(SKIZZE13_R)
    extrude(amount=-SCHNITT_LINEAR_AUSTRAGEN5_DEPTH, mode=Mode.SUBTRACT)

    # Skizze15 → Schnitt-Linear austragen6 (cut, through all)
    with BuildSketch(Plane.XY.offset(5)):
        with Locations((44, -25)):
            Rectangle(SKIZZE15_W, SKIZZE15_H)
        with Locations((-44, -25)):
            Rectangle(SKIZZE15_W, SKIZZE15_H)
    extrude(amount=-SCHNITT_LINEAR_AUSTRAGEN6_DEPTH, mode=Mode.SUBTRACT)

    # Verrundung3
    verrundung3_edges = [part_12.edges().sort_by_distance(p)[0] for p in [
        (48, 0, 2.5),
        (48, -50, 2.5),
        (40, -50, 2.5),
        (40, 0, 2.5),
        (-48, -50, 2.5),
        (-48, 0, 2.5),
        (-40, 0, 2.5),
        (-40, -50, 2.5),
    ]]
    fillet(verrundung3_edges, radius=VERRUNDUNG3_R)

    # Skizze16 → Aufsatz-Linear austragen7 (add)
    with BuildSketch(Plane.XY.offset(9)):
        with Locations(Location((-24.75, -16.25, 0), (0, 0, 180))):
            Circle(SKIZZE16_R)
        with Locations(Location((24.75, -16.25, 0), (0, 0, 180))):
            Circle(SKIZZE16_R)
        with Locations(Location((-24.75, -73.75, 0), (0, 0, 180))):
            Circle(SKIZZE16_R)
        with Locations(Location((24.75, -73.75, 0), (0, 0, 180))):
            Circle(SKIZZE16_R)
    extrude(amount=AUFSATZ_LINEAR_AUSTRAGEN7_DEPTH)


with BuildPart() as aufsatz_linear_austragen8_tool:
    # Skizze17 → Aufsatz-Linear austragen8 (with draft: the straight prism first)
    with BuildSketch(Plane.XY.offset(13)):
        with Locations((-24.75, -16.25)):
            Circle(SKIZZE17_R)
    extrude(amount=AUFSATZ_LINEAR_AUSTRAGEN8_DEPTH)
    # Aufsatz-Linear austragen8: the draft: its side faces are tilted about the plane it starts from
    aufsatz_linear_austragen8_sides = [aufsatz_linear_austragen8_tool.faces().sort_by_distance(p)[0] for p in [
        (-25.7, -16.25, 15),
    ]]
    draft(aufsatz_linear_austragen8_sides, Plane.XY.offset(13), AUFSATZ_LINEAR_AUSTRAGEN8_DRAFT)


with BuildPart() as part_13:
    add(part_12.part)

    # Aufsatz-Linear austragen8: add aufsatz_linear_austragen8_tool
    add(aufsatz_linear_austragen8_tool.part)


with BuildPart() as aufsatz_linear_austragen8_profile_2_tool:
    # Skizze17 → Aufsatz-Linear austragen8 profile 2 (with draft: the straight prism first)
    with BuildSketch(Plane.XY.offset(13)):
        with Locations((24.75, -16.25)):
            Circle(SKIZZE17_R)
    extrude(amount=AUFSATZ_LINEAR_AUSTRAGEN8_PROFILE_2_DEPTH)
    # Aufsatz-Linear austragen8 profile 2: the draft: its side faces are tilted about the plane it starts from
    aufsatz_linear_austragen8_profile_2_sides = [aufsatz_linear_austragen8_profile_2_tool.faces().sort_by_distance(p)[0] for p in [
        (23.8, -16.25, 15),
    ]]
    draft(aufsatz_linear_austragen8_profile_2_sides, Plane.XY.offset(13), AUFSATZ_LINEAR_AUSTRAGEN8_PROFILE_2_DRAFT)


with BuildPart() as part_14:
    add(part_13.part)

    # Aufsatz-Linear austragen8 profile 2: add aufsatz_linear_austragen8_profile_2_tool
    add(aufsatz_linear_austragen8_profile_2_tool.part)


with BuildPart() as aufsatz_linear_austragen8_profile_3_tool:
    # Skizze17 → Aufsatz-Linear austragen8 profile 3 (with draft: the straight prism first)
    with BuildSketch(Plane.XY.offset(13)):
        with Locations((-24.75, -73.75)):
            Circle(SKIZZE17_R)
    extrude(amount=AUFSATZ_LINEAR_AUSTRAGEN8_PROFILE_3_DEPTH)
    # Aufsatz-Linear austragen8 profile 3: the draft: its side faces are tilted about the plane it starts from
    aufsatz_linear_austragen8_profile_3_sides = [aufsatz_linear_austragen8_profile_3_tool.faces().sort_by_distance(p)[0] for p in [
        (-25.7, -73.75, 15),
    ]]
    draft(aufsatz_linear_austragen8_profile_3_sides, Plane.XY.offset(13), AUFSATZ_LINEAR_AUSTRAGEN8_PROFILE_3_DRAFT)


with BuildPart() as part_15:
    add(part_14.part)

    # Aufsatz-Linear austragen8 profile 3: add aufsatz_linear_austragen8_profile_3_tool
    add(aufsatz_linear_austragen8_profile_3_tool.part)


with BuildPart() as aufsatz_linear_austragen8_profile_4_tool:
    # Skizze17 → Aufsatz-Linear austragen8 profile 4 (with draft: the straight prism first)
    with BuildSketch(Plane.XY.offset(13)):
        with Locations((24.75, -73.75)):
            Circle(SKIZZE17_R)
    extrude(amount=AUFSATZ_LINEAR_AUSTRAGEN8_PROFILE_4_DEPTH)
    # Aufsatz-Linear austragen8 profile 4: the draft: its side faces are tilted about the plane it starts from
    aufsatz_linear_austragen8_profile_4_sides = [aufsatz_linear_austragen8_profile_4_tool.faces().sort_by_distance(p)[0] for p in [
        (23.8, -73.75, 15),
    ]]
    draft(aufsatz_linear_austragen8_profile_4_sides, Plane.XY.offset(13), AUFSATZ_LINEAR_AUSTRAGEN8_PROFILE_4_DRAFT)


with BuildPart() as part_16:
    add(part_15.part)

    # Aufsatz-Linear austragen8 profile 4: add aufsatz_linear_austragen8_profile_4_tool
    add(aufsatz_linear_austragen8_profile_4_tool.part)


solid = part_16.part
